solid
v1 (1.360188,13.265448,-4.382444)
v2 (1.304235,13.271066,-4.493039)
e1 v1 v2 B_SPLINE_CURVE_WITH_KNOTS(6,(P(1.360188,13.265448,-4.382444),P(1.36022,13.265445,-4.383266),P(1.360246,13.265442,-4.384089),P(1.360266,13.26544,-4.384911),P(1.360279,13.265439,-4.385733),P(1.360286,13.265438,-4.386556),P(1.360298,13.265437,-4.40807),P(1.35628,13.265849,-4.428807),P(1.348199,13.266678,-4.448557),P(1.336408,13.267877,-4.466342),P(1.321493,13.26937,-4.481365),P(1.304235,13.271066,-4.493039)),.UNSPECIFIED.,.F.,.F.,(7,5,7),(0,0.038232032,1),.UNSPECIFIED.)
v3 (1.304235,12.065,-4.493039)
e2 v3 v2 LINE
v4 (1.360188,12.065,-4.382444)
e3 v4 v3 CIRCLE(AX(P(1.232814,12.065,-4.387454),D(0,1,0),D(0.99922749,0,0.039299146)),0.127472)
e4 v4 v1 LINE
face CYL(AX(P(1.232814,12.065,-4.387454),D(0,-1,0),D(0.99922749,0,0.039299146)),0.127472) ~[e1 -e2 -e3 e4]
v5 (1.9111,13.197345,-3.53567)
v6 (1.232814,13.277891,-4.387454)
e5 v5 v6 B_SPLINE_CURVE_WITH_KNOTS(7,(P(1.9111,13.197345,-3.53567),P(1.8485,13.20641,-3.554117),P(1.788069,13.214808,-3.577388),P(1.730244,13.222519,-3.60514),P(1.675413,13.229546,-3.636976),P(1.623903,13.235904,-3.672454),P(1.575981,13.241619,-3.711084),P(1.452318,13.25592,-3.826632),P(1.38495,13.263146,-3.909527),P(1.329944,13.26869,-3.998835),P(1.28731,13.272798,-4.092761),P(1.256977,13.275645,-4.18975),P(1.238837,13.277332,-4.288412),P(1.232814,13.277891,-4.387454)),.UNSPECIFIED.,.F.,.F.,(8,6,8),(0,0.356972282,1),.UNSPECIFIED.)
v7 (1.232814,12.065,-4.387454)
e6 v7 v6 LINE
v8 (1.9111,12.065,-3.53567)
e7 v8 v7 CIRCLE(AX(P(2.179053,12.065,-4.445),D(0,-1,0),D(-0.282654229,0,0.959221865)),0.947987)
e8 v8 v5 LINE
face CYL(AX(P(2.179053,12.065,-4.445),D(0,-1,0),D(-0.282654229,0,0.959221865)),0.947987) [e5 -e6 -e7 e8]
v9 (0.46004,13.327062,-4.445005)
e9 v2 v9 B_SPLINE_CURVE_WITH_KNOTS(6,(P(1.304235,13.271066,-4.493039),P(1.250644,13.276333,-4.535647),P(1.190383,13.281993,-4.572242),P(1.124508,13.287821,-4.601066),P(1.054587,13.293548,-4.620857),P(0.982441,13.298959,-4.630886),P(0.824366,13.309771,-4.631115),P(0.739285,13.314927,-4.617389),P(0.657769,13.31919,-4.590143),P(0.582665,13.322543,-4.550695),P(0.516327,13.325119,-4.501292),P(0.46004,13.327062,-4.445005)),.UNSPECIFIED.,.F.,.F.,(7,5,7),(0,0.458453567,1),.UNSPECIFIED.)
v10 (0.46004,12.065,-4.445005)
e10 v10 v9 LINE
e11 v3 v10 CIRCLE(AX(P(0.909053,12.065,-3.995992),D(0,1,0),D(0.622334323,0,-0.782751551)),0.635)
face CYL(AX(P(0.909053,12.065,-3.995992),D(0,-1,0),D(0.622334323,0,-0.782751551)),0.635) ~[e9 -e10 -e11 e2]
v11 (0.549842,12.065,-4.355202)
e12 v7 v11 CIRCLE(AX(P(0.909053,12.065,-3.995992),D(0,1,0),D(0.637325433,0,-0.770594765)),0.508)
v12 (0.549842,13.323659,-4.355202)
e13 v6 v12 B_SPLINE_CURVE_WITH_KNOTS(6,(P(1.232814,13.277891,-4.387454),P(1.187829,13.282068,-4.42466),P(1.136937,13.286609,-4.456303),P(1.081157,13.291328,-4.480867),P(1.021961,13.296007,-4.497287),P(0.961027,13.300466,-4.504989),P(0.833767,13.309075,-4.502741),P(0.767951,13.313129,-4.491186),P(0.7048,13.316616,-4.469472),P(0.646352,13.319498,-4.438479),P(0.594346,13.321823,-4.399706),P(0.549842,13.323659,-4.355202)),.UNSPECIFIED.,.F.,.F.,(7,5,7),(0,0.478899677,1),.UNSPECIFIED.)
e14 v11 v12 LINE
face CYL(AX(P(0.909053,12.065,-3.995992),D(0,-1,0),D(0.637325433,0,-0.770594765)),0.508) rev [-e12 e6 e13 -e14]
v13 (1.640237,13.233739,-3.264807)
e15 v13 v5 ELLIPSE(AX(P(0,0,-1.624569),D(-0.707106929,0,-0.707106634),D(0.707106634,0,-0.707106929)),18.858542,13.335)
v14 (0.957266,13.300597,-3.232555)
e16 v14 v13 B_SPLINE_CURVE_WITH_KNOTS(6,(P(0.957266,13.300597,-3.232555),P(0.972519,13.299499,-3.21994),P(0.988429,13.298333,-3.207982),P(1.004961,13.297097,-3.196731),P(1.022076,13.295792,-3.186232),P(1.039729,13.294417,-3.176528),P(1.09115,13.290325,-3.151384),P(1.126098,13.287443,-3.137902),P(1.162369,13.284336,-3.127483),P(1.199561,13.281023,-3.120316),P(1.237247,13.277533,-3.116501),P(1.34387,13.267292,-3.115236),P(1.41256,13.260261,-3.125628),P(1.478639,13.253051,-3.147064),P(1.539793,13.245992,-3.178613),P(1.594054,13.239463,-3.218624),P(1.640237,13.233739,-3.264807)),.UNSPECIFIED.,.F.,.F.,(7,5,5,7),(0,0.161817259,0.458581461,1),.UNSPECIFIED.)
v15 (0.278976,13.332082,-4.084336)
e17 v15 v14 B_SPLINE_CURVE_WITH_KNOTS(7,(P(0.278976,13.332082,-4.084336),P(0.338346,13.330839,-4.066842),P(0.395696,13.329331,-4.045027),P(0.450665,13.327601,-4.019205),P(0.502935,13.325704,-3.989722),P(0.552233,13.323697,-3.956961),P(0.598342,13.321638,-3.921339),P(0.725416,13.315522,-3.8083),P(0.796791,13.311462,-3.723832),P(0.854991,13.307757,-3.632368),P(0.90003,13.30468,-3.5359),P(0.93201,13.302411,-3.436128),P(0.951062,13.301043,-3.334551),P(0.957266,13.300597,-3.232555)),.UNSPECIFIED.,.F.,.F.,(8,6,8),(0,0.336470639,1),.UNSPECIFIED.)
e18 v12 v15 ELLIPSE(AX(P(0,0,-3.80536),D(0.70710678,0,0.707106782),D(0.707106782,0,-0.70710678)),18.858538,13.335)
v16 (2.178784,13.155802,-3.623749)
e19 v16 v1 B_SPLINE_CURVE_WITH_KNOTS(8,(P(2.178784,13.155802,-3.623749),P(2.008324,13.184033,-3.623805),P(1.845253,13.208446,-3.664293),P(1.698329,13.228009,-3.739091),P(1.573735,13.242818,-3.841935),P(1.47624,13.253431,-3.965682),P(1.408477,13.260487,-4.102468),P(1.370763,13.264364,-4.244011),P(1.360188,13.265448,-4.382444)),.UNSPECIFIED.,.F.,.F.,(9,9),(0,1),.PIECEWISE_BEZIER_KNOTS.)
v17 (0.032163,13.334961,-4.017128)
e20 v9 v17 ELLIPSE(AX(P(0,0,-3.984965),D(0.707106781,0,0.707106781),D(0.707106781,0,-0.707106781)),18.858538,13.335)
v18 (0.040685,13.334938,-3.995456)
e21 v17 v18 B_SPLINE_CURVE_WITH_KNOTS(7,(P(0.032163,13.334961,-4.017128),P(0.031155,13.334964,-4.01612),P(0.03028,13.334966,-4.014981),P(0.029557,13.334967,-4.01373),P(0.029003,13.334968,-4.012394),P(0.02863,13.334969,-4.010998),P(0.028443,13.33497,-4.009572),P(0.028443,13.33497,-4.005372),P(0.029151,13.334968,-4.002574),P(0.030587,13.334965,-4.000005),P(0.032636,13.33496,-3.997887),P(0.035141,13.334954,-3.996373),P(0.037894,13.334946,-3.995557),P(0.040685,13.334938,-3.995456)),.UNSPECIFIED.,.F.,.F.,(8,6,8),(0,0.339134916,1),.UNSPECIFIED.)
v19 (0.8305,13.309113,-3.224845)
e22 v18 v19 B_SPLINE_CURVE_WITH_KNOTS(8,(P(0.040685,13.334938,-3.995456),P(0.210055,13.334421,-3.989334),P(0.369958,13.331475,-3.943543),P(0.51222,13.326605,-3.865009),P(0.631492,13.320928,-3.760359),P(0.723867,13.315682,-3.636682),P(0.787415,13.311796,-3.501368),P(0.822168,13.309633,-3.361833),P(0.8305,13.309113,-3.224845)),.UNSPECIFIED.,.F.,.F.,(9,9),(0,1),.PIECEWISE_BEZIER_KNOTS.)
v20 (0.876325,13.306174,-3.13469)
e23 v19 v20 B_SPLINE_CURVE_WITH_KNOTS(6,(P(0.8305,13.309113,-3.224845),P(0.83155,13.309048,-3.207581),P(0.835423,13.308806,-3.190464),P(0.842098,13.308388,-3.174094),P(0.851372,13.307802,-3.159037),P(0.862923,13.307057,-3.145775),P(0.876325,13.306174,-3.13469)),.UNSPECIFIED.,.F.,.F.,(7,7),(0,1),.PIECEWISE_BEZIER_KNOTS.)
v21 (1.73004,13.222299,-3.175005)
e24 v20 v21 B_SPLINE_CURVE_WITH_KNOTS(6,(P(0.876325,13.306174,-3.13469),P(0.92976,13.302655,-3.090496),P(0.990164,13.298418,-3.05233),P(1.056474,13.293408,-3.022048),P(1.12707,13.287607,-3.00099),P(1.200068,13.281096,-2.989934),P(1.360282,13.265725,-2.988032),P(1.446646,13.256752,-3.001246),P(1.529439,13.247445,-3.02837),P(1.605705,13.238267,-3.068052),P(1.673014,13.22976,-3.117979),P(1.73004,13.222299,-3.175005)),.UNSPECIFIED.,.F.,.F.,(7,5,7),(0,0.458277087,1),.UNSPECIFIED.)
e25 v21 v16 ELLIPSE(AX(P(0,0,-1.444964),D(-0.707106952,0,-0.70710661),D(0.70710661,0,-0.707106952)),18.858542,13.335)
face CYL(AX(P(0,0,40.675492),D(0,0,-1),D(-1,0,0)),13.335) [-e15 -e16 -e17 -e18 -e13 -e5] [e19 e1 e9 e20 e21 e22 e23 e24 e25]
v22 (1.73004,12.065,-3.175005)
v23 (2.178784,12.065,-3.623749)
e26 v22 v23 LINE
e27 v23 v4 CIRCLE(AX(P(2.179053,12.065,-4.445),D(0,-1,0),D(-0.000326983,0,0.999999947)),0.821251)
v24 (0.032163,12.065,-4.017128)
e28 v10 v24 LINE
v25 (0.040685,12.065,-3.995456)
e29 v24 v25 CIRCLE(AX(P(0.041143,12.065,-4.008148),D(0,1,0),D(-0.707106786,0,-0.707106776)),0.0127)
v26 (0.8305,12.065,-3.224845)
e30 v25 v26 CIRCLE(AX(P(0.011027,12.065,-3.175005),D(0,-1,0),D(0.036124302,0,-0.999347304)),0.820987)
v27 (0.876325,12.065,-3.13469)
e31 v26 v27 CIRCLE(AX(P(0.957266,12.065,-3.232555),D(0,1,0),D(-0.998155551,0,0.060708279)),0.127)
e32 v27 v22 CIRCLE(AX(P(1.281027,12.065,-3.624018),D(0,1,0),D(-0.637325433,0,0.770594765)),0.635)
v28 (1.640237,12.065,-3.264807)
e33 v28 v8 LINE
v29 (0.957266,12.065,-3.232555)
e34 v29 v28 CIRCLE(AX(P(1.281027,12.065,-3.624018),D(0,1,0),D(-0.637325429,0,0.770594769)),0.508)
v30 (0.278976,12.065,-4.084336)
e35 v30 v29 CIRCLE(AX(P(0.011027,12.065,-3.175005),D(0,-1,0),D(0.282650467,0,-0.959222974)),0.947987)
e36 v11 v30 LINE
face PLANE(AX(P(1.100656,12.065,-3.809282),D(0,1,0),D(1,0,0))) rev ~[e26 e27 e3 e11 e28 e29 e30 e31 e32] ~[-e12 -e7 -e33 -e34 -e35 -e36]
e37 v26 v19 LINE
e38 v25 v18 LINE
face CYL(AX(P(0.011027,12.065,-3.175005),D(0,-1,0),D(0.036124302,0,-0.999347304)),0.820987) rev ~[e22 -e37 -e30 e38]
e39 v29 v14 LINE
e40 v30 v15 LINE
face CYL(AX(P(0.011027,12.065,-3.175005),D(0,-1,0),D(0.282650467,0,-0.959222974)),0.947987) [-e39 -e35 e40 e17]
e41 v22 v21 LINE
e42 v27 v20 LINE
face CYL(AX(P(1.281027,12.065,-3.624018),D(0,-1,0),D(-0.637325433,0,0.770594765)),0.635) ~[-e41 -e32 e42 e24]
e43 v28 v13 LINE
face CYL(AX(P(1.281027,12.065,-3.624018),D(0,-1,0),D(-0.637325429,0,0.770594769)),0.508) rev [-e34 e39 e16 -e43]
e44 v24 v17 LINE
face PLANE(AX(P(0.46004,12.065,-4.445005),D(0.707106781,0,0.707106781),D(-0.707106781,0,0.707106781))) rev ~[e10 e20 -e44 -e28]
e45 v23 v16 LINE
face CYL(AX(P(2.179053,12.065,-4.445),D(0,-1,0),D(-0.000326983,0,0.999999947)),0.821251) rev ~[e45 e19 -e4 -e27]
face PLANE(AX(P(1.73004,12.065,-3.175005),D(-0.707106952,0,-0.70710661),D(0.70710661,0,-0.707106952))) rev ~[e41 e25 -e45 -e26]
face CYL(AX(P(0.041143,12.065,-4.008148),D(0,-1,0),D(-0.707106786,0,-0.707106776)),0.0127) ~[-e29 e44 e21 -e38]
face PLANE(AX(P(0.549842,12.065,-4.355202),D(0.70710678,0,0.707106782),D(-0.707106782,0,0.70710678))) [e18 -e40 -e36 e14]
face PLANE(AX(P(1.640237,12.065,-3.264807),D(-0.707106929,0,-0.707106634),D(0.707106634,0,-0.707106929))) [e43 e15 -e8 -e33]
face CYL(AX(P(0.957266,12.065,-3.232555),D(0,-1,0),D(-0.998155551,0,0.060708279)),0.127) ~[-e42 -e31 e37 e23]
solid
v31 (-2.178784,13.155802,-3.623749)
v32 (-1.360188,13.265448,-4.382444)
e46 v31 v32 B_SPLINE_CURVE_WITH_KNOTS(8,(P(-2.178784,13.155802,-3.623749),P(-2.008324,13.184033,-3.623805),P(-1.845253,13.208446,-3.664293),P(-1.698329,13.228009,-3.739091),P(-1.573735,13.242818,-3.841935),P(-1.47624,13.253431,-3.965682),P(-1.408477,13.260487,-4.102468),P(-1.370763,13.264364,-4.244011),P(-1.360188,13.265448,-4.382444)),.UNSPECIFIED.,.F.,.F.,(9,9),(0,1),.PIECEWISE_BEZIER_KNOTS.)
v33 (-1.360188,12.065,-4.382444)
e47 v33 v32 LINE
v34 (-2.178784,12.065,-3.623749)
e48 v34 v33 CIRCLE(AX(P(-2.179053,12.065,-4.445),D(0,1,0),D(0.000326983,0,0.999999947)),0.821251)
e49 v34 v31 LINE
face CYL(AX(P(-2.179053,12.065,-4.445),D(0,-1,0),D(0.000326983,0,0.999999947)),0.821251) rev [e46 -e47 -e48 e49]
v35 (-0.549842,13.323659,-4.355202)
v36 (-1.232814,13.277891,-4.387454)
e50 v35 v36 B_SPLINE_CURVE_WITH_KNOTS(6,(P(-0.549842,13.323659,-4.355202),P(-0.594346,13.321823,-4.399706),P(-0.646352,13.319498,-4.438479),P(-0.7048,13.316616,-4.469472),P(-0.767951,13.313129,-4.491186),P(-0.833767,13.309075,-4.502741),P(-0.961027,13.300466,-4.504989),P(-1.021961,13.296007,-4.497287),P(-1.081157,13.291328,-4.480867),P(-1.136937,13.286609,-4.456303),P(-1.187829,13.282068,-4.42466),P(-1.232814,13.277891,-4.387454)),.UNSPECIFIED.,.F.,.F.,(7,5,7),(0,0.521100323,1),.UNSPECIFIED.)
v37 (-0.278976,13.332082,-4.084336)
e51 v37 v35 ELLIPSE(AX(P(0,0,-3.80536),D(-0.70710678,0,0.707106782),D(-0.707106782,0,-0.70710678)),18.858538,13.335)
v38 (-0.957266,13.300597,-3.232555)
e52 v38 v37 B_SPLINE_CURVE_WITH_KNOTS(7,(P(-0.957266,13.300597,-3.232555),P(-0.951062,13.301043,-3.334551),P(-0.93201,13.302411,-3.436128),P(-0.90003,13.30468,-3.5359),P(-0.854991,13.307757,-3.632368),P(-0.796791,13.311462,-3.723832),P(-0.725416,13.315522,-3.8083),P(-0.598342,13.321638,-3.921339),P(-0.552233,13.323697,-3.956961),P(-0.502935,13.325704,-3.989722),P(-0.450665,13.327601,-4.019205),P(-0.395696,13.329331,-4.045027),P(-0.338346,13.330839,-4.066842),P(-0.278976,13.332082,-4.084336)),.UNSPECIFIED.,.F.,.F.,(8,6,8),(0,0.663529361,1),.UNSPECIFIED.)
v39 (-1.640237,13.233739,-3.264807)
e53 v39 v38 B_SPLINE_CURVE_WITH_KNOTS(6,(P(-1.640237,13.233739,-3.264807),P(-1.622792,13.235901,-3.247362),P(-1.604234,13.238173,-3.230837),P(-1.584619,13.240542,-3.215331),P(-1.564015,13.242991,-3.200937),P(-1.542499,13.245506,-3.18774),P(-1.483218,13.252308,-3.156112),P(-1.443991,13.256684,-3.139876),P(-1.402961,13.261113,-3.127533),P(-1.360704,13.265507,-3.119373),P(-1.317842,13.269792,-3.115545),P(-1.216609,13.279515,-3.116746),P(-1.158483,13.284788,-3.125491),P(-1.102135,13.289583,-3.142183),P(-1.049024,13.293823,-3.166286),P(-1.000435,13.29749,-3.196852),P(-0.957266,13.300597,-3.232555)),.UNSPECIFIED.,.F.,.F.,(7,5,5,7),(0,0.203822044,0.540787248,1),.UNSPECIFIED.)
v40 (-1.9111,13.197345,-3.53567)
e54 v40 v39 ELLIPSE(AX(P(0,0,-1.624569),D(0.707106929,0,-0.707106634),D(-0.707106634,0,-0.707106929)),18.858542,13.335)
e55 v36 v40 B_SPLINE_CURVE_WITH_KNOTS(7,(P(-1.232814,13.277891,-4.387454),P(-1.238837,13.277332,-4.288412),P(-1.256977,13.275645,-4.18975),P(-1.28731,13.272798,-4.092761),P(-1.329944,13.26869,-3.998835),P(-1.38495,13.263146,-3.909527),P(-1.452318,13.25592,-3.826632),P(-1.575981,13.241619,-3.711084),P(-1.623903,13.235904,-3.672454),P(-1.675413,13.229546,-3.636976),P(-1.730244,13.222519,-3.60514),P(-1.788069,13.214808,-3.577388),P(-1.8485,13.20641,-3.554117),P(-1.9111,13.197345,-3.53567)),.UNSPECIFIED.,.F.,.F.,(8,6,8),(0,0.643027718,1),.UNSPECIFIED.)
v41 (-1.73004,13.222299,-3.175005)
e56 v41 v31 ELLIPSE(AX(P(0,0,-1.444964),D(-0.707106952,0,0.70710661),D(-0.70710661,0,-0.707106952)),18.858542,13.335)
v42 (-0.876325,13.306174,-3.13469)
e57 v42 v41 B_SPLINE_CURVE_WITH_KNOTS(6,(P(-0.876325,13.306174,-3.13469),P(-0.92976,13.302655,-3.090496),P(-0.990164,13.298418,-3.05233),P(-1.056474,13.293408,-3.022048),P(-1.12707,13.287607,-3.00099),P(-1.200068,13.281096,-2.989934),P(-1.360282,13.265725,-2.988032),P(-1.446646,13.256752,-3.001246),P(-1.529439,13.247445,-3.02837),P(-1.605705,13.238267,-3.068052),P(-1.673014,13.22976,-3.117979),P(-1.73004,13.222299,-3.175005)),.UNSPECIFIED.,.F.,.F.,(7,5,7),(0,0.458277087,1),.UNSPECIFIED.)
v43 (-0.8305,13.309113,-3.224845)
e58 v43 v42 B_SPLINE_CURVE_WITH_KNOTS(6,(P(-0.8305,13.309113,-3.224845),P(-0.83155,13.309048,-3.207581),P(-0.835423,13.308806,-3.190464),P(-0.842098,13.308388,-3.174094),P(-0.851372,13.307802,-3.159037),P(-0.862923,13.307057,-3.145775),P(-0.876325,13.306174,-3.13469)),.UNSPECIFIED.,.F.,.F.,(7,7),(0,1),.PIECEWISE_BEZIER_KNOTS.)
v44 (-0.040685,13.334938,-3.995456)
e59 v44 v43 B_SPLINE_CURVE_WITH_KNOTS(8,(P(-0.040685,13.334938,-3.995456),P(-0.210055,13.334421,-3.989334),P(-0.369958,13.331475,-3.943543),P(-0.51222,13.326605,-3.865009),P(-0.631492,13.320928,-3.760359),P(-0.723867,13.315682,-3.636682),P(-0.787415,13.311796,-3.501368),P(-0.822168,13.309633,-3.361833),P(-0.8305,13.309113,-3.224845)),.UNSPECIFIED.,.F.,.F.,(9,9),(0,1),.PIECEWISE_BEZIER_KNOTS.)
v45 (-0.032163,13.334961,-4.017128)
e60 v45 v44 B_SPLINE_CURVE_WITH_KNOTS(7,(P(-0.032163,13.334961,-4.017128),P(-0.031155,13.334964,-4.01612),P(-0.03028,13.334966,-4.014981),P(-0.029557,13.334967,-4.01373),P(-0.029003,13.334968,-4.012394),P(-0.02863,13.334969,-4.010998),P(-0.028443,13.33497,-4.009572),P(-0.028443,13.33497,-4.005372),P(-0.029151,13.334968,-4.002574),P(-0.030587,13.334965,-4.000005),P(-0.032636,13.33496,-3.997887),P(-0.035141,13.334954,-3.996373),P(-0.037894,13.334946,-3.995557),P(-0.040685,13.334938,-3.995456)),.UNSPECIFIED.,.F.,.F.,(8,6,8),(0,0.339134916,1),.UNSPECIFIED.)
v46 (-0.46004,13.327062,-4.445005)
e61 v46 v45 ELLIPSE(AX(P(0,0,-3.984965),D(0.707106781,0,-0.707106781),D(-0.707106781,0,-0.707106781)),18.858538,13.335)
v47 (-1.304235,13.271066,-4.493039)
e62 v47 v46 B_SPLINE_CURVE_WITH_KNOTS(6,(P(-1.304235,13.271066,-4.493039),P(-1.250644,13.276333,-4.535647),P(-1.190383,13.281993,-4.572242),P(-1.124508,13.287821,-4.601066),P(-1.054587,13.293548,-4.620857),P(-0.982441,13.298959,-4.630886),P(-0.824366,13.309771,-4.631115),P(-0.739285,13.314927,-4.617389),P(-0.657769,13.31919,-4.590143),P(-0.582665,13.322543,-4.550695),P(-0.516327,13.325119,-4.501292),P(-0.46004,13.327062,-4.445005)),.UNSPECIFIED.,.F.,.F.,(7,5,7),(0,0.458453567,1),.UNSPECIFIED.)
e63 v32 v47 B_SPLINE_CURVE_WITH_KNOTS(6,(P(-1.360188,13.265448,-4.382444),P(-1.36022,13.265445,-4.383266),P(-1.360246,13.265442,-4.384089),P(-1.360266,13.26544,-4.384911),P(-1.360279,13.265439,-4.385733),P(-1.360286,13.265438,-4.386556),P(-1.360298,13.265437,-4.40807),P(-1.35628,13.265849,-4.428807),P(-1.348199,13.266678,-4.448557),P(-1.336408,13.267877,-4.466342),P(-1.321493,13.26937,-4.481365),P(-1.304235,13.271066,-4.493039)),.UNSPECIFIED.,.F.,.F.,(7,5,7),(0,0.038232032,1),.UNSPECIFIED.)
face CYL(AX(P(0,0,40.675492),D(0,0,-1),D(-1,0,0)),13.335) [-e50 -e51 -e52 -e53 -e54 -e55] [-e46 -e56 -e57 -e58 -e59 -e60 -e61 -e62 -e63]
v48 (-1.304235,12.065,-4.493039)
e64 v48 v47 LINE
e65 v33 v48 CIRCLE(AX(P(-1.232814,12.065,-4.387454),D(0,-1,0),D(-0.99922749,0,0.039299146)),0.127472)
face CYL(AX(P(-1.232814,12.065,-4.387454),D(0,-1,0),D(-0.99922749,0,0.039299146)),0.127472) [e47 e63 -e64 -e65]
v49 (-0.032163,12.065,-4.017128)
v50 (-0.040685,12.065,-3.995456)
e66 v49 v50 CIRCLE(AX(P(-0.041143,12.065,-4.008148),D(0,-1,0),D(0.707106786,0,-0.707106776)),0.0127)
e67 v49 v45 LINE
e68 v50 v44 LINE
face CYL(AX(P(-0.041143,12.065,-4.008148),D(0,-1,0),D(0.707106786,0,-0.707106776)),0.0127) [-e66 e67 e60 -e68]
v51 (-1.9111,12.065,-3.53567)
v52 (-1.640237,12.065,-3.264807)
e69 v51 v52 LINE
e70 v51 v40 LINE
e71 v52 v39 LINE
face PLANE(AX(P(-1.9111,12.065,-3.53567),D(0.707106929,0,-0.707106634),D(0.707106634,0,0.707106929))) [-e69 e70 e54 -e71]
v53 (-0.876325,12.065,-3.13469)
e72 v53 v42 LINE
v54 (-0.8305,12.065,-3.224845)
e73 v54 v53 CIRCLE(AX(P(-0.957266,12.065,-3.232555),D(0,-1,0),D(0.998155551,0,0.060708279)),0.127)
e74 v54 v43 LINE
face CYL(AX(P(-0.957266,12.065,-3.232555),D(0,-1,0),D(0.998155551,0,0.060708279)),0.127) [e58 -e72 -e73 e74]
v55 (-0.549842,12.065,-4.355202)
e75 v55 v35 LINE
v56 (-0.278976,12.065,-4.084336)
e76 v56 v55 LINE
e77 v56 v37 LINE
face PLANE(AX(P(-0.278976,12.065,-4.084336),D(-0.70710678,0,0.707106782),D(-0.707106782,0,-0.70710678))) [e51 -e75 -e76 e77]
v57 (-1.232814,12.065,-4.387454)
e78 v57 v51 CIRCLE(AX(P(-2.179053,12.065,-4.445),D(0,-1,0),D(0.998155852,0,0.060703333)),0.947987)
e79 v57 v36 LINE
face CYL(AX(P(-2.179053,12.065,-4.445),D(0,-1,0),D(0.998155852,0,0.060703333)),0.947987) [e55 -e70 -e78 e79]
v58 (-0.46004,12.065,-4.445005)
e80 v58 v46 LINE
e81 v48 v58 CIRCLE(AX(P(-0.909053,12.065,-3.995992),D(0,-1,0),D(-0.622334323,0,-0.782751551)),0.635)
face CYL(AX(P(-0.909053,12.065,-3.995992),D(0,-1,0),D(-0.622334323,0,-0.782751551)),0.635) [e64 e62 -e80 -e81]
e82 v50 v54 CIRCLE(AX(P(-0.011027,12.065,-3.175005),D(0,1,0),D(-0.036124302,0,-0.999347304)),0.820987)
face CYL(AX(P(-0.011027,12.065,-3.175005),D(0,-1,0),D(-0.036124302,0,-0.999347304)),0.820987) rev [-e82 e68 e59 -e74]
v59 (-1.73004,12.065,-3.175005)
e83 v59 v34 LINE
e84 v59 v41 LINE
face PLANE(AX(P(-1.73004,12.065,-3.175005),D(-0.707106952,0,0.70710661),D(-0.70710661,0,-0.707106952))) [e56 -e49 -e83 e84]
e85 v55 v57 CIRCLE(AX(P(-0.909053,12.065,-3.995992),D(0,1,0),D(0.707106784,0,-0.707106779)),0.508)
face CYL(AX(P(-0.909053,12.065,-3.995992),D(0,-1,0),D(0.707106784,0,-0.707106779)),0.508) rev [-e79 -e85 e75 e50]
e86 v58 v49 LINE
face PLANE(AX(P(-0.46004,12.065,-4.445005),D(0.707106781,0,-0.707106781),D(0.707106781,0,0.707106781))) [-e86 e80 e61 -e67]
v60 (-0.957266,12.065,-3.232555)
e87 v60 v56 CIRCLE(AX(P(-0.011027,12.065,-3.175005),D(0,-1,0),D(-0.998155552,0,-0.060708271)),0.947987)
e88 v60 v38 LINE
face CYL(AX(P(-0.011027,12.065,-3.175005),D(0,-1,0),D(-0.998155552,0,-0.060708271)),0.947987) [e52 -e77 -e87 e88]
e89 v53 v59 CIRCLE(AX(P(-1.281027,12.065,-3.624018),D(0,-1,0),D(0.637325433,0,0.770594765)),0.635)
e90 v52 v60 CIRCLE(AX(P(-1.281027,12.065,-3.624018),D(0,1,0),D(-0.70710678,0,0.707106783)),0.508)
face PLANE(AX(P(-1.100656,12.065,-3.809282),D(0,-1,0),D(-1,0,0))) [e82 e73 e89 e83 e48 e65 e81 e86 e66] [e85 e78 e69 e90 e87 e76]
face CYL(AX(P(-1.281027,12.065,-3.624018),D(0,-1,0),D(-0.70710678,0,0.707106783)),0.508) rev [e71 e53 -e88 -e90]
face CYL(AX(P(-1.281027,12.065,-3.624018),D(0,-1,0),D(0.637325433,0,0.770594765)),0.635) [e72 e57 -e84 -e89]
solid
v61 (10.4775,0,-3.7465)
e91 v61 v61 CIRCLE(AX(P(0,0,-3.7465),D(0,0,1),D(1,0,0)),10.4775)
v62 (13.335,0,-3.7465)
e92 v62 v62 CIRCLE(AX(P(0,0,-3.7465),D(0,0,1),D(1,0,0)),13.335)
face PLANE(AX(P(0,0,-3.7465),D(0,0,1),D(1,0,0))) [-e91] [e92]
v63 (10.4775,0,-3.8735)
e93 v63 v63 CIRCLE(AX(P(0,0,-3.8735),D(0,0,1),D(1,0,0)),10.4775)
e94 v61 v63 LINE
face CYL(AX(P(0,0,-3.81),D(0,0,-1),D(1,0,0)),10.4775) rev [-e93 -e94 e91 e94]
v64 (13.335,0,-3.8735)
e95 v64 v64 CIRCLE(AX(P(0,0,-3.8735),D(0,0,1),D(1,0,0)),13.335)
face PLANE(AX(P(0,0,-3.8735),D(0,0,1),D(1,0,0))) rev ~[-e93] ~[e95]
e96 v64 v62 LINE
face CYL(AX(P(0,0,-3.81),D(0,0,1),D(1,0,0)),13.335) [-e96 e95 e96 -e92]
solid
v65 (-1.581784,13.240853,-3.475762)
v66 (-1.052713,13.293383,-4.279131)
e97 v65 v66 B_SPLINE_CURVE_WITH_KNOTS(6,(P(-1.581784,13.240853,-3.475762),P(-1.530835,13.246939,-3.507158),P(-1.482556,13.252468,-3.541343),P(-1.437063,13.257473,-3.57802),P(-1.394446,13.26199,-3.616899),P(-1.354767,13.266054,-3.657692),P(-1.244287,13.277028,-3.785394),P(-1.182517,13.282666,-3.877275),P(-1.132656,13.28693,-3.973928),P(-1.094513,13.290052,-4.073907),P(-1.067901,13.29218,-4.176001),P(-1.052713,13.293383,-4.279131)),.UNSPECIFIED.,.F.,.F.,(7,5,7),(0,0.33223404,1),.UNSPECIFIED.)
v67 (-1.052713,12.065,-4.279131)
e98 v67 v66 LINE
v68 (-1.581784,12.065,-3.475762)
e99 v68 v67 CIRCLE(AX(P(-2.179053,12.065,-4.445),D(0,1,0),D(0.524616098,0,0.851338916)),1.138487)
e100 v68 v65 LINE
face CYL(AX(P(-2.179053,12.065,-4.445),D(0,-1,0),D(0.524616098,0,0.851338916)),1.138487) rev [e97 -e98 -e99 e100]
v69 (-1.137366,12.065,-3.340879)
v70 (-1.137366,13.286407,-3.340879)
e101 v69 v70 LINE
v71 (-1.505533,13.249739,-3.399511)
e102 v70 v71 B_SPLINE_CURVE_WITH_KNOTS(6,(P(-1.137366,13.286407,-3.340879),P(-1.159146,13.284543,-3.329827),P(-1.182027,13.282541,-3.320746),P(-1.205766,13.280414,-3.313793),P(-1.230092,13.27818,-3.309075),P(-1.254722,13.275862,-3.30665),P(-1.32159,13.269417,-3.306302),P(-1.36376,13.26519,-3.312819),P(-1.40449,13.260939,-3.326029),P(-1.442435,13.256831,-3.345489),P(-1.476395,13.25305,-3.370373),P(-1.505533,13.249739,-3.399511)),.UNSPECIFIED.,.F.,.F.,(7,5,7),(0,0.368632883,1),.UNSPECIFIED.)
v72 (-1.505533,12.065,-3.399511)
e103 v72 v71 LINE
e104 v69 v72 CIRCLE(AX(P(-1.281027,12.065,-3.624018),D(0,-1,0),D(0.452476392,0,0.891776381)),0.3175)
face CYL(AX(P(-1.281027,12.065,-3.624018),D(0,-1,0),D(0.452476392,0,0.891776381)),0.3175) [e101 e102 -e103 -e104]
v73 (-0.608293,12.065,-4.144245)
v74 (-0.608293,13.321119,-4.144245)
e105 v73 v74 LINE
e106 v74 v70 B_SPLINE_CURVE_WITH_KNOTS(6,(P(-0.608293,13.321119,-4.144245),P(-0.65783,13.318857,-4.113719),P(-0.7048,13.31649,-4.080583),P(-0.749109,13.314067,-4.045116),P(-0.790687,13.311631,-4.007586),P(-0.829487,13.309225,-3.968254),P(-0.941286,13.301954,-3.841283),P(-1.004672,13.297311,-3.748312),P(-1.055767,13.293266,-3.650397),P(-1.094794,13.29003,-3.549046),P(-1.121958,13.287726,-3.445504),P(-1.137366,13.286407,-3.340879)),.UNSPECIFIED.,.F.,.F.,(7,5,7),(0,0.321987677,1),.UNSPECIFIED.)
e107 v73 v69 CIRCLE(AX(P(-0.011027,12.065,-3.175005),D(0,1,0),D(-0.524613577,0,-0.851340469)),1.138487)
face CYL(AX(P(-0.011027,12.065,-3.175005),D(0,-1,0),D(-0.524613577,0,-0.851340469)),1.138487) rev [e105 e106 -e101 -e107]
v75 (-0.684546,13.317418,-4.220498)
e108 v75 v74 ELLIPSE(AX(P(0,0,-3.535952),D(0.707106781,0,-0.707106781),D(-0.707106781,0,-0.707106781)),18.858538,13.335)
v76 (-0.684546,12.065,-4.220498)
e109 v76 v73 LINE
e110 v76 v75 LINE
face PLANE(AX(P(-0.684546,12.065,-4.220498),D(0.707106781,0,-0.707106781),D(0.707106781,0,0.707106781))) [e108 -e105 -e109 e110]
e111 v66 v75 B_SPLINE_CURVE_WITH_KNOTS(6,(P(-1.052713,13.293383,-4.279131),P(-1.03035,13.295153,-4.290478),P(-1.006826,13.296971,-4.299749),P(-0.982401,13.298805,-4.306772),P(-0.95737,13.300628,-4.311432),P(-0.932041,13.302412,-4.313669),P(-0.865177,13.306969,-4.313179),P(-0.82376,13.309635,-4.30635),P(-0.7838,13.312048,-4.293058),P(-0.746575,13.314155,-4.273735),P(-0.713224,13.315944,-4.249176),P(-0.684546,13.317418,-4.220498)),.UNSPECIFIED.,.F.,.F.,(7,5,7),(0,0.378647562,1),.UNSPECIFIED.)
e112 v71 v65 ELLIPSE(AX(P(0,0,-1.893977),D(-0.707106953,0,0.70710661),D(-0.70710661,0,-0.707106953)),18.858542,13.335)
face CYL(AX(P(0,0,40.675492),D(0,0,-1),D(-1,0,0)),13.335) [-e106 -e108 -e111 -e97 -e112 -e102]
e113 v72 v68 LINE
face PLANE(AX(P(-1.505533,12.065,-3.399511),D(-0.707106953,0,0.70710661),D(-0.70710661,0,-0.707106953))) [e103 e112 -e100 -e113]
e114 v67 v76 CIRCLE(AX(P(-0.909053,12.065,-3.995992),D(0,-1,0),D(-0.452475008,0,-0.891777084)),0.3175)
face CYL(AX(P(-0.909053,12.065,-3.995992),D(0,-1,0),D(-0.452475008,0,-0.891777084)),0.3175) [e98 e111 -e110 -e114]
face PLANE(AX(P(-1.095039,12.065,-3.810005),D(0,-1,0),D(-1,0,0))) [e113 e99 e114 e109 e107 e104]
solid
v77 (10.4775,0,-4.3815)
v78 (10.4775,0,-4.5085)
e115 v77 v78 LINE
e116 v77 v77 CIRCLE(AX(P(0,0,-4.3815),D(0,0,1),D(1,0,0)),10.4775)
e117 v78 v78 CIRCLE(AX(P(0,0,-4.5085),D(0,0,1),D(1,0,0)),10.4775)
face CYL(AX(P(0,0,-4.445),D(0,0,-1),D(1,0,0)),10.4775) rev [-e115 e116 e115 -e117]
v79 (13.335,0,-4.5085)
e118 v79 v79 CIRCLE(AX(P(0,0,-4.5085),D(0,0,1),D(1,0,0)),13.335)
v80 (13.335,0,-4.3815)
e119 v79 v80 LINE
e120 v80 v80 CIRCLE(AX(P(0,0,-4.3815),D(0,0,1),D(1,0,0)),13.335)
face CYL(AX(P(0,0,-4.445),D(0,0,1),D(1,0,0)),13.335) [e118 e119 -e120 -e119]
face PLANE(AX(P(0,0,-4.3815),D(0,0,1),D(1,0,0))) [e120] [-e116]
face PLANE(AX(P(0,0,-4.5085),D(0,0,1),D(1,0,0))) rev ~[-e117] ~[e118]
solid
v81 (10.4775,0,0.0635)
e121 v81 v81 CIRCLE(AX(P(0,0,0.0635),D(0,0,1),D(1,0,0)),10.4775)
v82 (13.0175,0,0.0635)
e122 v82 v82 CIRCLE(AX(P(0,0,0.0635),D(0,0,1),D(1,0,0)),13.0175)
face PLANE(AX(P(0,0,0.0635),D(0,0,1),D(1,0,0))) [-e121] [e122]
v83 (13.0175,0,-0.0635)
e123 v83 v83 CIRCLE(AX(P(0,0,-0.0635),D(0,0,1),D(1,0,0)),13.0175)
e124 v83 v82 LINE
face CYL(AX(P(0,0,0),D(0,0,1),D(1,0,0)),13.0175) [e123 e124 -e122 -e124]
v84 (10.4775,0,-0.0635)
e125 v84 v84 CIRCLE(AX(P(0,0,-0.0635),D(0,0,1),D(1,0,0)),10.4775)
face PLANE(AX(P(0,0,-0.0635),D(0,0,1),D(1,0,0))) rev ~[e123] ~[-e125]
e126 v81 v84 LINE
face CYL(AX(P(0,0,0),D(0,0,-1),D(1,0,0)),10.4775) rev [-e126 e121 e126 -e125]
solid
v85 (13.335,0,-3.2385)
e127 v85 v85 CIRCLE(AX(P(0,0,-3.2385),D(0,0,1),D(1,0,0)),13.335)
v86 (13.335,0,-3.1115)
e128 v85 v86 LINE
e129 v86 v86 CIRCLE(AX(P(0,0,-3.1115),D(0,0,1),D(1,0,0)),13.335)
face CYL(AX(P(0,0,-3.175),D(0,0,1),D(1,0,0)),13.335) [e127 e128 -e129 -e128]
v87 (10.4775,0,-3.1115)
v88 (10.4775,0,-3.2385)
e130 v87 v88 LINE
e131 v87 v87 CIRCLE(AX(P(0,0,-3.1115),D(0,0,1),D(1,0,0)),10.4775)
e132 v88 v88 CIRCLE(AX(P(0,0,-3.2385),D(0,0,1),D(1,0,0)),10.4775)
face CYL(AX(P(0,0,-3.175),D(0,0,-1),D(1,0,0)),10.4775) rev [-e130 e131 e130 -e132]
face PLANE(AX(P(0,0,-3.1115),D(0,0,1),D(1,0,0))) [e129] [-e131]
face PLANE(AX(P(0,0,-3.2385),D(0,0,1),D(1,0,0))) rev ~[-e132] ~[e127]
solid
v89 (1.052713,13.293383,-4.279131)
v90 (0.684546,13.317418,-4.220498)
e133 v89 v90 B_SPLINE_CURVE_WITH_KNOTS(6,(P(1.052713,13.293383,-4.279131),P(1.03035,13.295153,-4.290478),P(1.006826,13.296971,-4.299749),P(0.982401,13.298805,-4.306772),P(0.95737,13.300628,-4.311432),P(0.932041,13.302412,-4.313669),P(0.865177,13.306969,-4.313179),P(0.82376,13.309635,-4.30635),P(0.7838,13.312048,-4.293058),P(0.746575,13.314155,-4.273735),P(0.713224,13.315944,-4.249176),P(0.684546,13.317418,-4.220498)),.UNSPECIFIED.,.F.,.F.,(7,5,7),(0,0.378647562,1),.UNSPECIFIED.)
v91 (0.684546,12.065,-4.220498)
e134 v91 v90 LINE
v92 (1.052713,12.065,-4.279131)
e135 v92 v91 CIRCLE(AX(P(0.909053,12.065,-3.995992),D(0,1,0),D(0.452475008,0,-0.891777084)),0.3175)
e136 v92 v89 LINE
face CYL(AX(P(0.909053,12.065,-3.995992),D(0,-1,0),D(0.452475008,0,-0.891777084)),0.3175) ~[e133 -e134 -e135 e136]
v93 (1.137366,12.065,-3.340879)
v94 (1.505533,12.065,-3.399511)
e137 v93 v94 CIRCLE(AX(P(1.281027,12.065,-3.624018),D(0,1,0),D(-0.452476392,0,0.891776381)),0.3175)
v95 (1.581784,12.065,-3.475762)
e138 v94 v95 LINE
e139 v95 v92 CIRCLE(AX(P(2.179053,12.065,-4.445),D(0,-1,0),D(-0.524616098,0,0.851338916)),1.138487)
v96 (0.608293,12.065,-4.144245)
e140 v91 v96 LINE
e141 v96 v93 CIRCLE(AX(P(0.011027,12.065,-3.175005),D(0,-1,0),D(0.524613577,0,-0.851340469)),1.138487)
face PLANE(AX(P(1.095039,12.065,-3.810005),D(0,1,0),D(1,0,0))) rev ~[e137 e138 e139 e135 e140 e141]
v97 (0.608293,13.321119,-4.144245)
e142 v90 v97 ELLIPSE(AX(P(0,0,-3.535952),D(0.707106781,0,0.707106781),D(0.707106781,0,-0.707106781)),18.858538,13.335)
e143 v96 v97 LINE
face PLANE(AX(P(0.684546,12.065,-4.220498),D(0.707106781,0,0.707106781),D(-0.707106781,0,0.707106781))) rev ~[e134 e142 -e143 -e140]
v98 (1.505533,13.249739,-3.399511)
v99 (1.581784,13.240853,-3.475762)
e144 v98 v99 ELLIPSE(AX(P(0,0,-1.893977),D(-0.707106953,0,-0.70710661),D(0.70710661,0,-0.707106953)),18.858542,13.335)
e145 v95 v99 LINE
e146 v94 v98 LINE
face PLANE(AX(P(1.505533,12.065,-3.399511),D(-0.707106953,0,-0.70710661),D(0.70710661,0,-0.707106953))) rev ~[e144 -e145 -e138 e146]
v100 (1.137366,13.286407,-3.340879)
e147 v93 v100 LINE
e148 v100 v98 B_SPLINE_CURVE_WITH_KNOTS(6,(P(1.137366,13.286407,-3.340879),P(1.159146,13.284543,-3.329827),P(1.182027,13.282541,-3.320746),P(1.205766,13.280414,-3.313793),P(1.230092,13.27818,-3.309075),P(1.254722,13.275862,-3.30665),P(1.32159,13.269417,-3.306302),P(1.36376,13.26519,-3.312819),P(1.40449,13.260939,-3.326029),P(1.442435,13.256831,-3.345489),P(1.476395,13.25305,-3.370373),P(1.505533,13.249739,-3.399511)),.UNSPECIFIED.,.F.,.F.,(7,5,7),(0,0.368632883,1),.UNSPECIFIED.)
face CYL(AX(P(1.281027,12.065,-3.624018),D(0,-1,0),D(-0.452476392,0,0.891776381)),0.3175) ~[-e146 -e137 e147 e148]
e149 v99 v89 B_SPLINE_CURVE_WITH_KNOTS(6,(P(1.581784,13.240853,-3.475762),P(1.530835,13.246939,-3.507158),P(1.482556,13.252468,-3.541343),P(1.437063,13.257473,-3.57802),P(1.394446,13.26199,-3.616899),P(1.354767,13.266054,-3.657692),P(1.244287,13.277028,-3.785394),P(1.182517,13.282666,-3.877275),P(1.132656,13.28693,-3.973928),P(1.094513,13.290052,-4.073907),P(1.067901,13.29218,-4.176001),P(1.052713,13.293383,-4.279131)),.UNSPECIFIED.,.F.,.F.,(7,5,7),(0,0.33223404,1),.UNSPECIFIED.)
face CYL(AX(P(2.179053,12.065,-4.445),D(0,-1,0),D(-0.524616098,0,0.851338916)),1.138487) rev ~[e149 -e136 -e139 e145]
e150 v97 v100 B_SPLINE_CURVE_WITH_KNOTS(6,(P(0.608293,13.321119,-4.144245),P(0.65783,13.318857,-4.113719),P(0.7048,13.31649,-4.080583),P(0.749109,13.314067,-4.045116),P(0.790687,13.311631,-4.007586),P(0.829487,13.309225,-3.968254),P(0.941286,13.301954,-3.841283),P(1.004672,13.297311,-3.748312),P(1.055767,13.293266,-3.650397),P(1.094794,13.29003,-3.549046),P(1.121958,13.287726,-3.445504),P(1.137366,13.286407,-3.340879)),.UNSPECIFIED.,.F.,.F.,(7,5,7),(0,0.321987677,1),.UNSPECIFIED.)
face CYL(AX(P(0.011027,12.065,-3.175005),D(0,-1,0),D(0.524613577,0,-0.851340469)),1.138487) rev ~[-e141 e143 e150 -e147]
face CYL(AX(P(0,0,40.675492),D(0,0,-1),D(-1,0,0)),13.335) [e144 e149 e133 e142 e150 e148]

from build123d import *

# Parameters (mm, degrees)
SKETCH1_R                = 13.0175
SKETCH1_R_2              = 12.3825
SKETCH1_R_3              = 10.4775
BOSS_EXTRUDE1_DEPTH      = 0.0635
BOSS_EXTRUDE3_REACH      = 30.259
BOSS_EXTRUDE3_END_RADIUS = 13.335
SKETCH4_R                = 13.335
SKETCH4_R_2              = 10.4775
BOSS_EXTRUDE4_DEPTH      = 0.0635
SKETCH9_R                = 13.335
SKETCH9_R_2              = 10.4775
BOSS_EXTRUDE5_DEPTH      = 0.0635
SKETCH10_R               = 13.335
SKETCH10_R_2             = 10.4775
BOSS_EXTRUDE6_DEPTH      = 0.0635


with BuildPart() as part:
    # Sketch1 → Boss-Extrude1 (new, symmetric)
    with BuildSketch(Plane.XY):
        Circle(SKETCH1_R)
        Circle(SKETCH1_R_2, mode=Mode.SUBTRACT)
        Circle(SKETCH1_R_2)
        Circle(SKETCH1_R_3, mode=Mode.SUBTRACT)
    extrude(amount=BOSS_EXTRUDE1_DEPTH, both=True)


with BuildPart() as body_2:
    # Boss-Extrude3: up to this cylinder (the profile starts inside it)
    boss_extrude3_end = Plane(origin=(0, 0, -4.0107315), z_dir=(0, 0, -1)) * Cylinder(BOSS_EXTRUDE3_END_RADIUS, 89.372447, mode=Mode.PRIVATE)
    # Sketch3 → Boss-Extrude3 (new, up to the surface)
    with BuildSketch(Plane(origin=(0, 12.065, 0), x_dir=(1, 0, 0), z_dir=(0, 1, 0)), mode=Mode.PRIVATE) as boss_extrude3_sk1:
        with BuildLine():
            Line((0.460039804, 4.445004699), (0.03216311, 4.017128005))
            ThreePointArc((0.03216311, 4.017128005), (0.029324213, 4.003500425), (0.040684587, 3.995456038))
            ThreePointArc((0.040684587, 3.995456038), (0.584364457, 3.762630541), (0.830499923, 3.224845413))
            ThreePointArc((0.830499923, 3.224845413), (0.844051449, 3.175009397), (0.876325349, 3.134689828))
            ThreePointArc((0.876325349, 3.134689828), (1.310980159, 2.989724348), (1.730039804, 3.175004699))
            Line((1.730039804, 3.175004699), (2.178784076, 3.623749188))
            ThreePointArc((2.178784076, 3.623749188), (1.620796803, 3.842668346), (1.360187679, 4.382444484))
            ThreePointArc((1.360187679, 4.382444484), (1.34655763, 4.445), (1.304234905, 4.493039127))
            ThreePointArc((1.304234905, 4.493039127), (0.872979662, 4.629966452), (0.460039804, 4.445004699))
        make_face()
        with BuildLine():
            Line((1.640237243, 3.26480726), (1.9111001, 3.53567023))
            ThreePointArc((1.9111001, 3.53567023), (1.437467163, 3.85446617), (1.232813929, 4.387454034))
            ThreePointArc((1.232813929, 4.387454034), (0.885090081, 4.503426418), (0.549842365, 4.355202137))
            Line((0.549842365, 4.355202137), (0.278976021, 4.084335794))
            ThreePointArc((0.278976021, 4.084335794), (0.752610048, 3.765541996), (0.957265678, 3.232555363))
            ThreePointArc((0.957265678, 3.232555363), (1.304989527, 3.11658298), (1.640237243, 3.26480726))
        make_face(mode=Mode.SUBTRACT)
    boss_extrude3_tool1 = extrude(boss_extrude3_sk1.sketch, amount=BOSS_EXTRUDE3_REACH, mode=Mode.PRIVATE) & boss_extrude3_end
    add(boss_extrude3_tool1.solids().sort_by_distance((0.874517, 12.065, -4.602955))[0])
    # Sketch3 → Boss-Extrude3 (new, up to the surface)
    with BuildSketch(Plane(origin=(0, 12.065, 0), x_dir=(1, 0, 0), z_dir=(0, 1, 0)), mode=Mode.PRIVATE) as boss_extrude3_sk2:
        with BuildLine():
            Line((-1.730039804, 3.175004699), (-2.178784076, 3.623749188))
            ThreePointArc((-2.178784076, 3.623749188), (-1.620796803, 3.842668346), (-1.360187679, 4.382444484))
            ThreePointArc((-1.360187679, 4.382444484), (-1.34655763, 4.445), (-1.304234905, 4.493039127))
            ThreePointArc((-1.304234905, 4.493039127), (-0.872979662, 4.629966452), (-0.460039804, 4.445004699))
            Line((-0.460039804, 4.445004699), (-0.03216311, 4.017128005))
            ThreePointArc((-0.03216311, 4.017128005), (-0.029324213, 4.003500425), (-0.040684587, 3.995456038))
            ThreePointArc((-0.040684587, 3.995456038), (-0.584364457, 3.762630541), (-0.830499923, 3.224845413))
            ThreePointArc((-0.830499923, 3.224845413), (-0.844051449, 3.175009397), (-0.876325349, 3.134689828))
            ThreePointArc((-0.876325349, 3.134689828), (-1.310980159, 2.989724348), (-1.730039804, 3.175004699))
        make_face()
        with BuildLine():
            ThreePointArc((-1.232813929, 4.387454034), (-1.437467163, 3.85446617), (-1.9111001, 3.53567023))
            Line((-1.9111001, 3.53567023), (-1.640237243, 3.26480726))
            ThreePointArc((-1.640237243, 3.26480726), (-1.304989527, 3.11658298), (-0.957265678, 3.232555363))
            ThreePointArc((-0.957265678, 3.232555363), (-0.752610048, 3.765541996), (-0.278976021, 4.084335794))
            Line((-0.278976021, 4.084335794), (-0.549842365, 4.355202137))
            ThreePointArc((-0.549842365, 4.355202137), (-0.885090081, 4.503426418), (-1.232813929, 4.387454034))
        make_face(mode=Mode.SUBTRACT)
    boss_extrude3_tool2 = extrude(boss_extrude3_sk2.sketch, amount=BOSS_EXTRUDE3_REACH, mode=Mode.PRIVATE) & boss_extrude3_end
    add(boss_extrude3_tool2.solids().sort_by_distance((-1.935281, 12.065, -3.418508))[0])
    # Sketch3 → Boss-Extrude3 (new, up to the surface)
    with BuildSketch(Plane(origin=(0, 12.065, 0), x_dir=(1, 0, 0), z_dir=(0, 1, 0)), mode=Mode.PRIVATE) as boss_extrude3_sk3:
        with BuildLine():
            ThreePointArc((-1.052713427, 4.279131116), (-0.859118112, 4.309540606), (-0.684546207, 4.220498296))
            Line((-0.684546207, 4.220498296), (-0.608292834, 4.144244923))
            ThreePointArc((-0.608292834, 4.144244923), (-0.961843799, 3.801183986), (-1.137365744, 3.340878503))
            ThreePointArc((-1.137365744, 3.340878503), (-1.330961254, 3.310468752), (-1.505533401, 3.399511102))
            Line((-1.505533401, 3.399511102), (-1.581784051, 3.475761789))
            ThreePointArc((-1.581784051, 3.475761789), (-1.228233763, 3.818824337), (-1.052713427, 4.279131116))
        make_face()
    boss_extrude3_tool3 = extrude(boss_extrude3_sk3.sketch, amount=BOSS_EXTRUDE3_REACH, mode=Mode.PRIVATE) & boss_extrude3_end
    add(boss_extrude3_tool3.solids().sort_by_distance((-1.095038, 12.065, -3.810005))[0])
    # Sketch3 → Boss-Extrude3 (new, up to the surface)
    with BuildSketch(Plane(origin=(0, 12.065, 0), x_dir=(1, 0, 0), z_dir=(0, 1, 0)), mode=Mode.PRIVATE) as boss_extrude3_sk4:
        with BuildLine():
            ThreePointArc((1.052713427, 4.279131116), (0.859118112, 4.309540606), (0.684546207, 4.220498296))
            Line((0.684546207, 4.220498296), (0.608292834, 4.144244923))
            ThreePointArc((0.608292834, 4.144244923), (0.961843799, 3.801183986), (1.137365744, 3.340878503))
            ThreePointArc((1.137365744, 3.340878503), (1.330961254, 3.310468752), (1.505533401, 3.399511102))
            Line((1.505533401, 3.399511102), (1.581784051, 3.475761789))
            ThreePointArc((1.581784051, 3.475761789), (1.228233763, 3.818824337), (1.052713427, 4.279131116))
        make_face()
    boss_extrude3_tool4 = extrude(boss_extrude3_sk4.sketch, amount=BOSS_EXTRUDE3_REACH, mode=Mode.PRIVATE) & boss_extrude3_end
    add(boss_extrude3_tool4.solids().sort_by_distance((1.095038, 12.065, -3.810005))[0])


with BuildPart() as body_3:
    # Sketch4 → Boss-Extrude4 (new, symmetric)
    with BuildSketch(Plane.XY.offset(-3.175)):
        Circle(SKETCH4_R)
        Circle(SKETCH4_R_2, mode=Mode.SUBTRACT)
    extrude(amount=BOSS_EXTRUDE4_DEPTH, both=True)


with BuildPart() as body_4:
    # Sketch9 → Boss-Extrude5 (new, symmetric)
    with BuildSketch(Plane.XY.offset(-3.81)):
        Circle(SKETCH9_R)
        Circle(SKETCH9_R_2, mode=Mode.SUBTRACT)
    extrude(amount=BOSS_EXTRUDE5_DEPTH, both=True)


with BuildPart() as body_5:
    # Sketch10 → Boss-Extrude6 (new, symmetric)
    with BuildSketch(Plane.XY.offset(-4.445)):
        Circle(SKETCH10_R)
        Circle(SKETCH10_R_2, mode=Mode.SUBTRACT)
    extrude(amount=BOSS_EXTRUDE6_DEPTH, both=True)


solid = Compound([part.part, body_2.part, body_3.part, body_4.part, body_5.part])
